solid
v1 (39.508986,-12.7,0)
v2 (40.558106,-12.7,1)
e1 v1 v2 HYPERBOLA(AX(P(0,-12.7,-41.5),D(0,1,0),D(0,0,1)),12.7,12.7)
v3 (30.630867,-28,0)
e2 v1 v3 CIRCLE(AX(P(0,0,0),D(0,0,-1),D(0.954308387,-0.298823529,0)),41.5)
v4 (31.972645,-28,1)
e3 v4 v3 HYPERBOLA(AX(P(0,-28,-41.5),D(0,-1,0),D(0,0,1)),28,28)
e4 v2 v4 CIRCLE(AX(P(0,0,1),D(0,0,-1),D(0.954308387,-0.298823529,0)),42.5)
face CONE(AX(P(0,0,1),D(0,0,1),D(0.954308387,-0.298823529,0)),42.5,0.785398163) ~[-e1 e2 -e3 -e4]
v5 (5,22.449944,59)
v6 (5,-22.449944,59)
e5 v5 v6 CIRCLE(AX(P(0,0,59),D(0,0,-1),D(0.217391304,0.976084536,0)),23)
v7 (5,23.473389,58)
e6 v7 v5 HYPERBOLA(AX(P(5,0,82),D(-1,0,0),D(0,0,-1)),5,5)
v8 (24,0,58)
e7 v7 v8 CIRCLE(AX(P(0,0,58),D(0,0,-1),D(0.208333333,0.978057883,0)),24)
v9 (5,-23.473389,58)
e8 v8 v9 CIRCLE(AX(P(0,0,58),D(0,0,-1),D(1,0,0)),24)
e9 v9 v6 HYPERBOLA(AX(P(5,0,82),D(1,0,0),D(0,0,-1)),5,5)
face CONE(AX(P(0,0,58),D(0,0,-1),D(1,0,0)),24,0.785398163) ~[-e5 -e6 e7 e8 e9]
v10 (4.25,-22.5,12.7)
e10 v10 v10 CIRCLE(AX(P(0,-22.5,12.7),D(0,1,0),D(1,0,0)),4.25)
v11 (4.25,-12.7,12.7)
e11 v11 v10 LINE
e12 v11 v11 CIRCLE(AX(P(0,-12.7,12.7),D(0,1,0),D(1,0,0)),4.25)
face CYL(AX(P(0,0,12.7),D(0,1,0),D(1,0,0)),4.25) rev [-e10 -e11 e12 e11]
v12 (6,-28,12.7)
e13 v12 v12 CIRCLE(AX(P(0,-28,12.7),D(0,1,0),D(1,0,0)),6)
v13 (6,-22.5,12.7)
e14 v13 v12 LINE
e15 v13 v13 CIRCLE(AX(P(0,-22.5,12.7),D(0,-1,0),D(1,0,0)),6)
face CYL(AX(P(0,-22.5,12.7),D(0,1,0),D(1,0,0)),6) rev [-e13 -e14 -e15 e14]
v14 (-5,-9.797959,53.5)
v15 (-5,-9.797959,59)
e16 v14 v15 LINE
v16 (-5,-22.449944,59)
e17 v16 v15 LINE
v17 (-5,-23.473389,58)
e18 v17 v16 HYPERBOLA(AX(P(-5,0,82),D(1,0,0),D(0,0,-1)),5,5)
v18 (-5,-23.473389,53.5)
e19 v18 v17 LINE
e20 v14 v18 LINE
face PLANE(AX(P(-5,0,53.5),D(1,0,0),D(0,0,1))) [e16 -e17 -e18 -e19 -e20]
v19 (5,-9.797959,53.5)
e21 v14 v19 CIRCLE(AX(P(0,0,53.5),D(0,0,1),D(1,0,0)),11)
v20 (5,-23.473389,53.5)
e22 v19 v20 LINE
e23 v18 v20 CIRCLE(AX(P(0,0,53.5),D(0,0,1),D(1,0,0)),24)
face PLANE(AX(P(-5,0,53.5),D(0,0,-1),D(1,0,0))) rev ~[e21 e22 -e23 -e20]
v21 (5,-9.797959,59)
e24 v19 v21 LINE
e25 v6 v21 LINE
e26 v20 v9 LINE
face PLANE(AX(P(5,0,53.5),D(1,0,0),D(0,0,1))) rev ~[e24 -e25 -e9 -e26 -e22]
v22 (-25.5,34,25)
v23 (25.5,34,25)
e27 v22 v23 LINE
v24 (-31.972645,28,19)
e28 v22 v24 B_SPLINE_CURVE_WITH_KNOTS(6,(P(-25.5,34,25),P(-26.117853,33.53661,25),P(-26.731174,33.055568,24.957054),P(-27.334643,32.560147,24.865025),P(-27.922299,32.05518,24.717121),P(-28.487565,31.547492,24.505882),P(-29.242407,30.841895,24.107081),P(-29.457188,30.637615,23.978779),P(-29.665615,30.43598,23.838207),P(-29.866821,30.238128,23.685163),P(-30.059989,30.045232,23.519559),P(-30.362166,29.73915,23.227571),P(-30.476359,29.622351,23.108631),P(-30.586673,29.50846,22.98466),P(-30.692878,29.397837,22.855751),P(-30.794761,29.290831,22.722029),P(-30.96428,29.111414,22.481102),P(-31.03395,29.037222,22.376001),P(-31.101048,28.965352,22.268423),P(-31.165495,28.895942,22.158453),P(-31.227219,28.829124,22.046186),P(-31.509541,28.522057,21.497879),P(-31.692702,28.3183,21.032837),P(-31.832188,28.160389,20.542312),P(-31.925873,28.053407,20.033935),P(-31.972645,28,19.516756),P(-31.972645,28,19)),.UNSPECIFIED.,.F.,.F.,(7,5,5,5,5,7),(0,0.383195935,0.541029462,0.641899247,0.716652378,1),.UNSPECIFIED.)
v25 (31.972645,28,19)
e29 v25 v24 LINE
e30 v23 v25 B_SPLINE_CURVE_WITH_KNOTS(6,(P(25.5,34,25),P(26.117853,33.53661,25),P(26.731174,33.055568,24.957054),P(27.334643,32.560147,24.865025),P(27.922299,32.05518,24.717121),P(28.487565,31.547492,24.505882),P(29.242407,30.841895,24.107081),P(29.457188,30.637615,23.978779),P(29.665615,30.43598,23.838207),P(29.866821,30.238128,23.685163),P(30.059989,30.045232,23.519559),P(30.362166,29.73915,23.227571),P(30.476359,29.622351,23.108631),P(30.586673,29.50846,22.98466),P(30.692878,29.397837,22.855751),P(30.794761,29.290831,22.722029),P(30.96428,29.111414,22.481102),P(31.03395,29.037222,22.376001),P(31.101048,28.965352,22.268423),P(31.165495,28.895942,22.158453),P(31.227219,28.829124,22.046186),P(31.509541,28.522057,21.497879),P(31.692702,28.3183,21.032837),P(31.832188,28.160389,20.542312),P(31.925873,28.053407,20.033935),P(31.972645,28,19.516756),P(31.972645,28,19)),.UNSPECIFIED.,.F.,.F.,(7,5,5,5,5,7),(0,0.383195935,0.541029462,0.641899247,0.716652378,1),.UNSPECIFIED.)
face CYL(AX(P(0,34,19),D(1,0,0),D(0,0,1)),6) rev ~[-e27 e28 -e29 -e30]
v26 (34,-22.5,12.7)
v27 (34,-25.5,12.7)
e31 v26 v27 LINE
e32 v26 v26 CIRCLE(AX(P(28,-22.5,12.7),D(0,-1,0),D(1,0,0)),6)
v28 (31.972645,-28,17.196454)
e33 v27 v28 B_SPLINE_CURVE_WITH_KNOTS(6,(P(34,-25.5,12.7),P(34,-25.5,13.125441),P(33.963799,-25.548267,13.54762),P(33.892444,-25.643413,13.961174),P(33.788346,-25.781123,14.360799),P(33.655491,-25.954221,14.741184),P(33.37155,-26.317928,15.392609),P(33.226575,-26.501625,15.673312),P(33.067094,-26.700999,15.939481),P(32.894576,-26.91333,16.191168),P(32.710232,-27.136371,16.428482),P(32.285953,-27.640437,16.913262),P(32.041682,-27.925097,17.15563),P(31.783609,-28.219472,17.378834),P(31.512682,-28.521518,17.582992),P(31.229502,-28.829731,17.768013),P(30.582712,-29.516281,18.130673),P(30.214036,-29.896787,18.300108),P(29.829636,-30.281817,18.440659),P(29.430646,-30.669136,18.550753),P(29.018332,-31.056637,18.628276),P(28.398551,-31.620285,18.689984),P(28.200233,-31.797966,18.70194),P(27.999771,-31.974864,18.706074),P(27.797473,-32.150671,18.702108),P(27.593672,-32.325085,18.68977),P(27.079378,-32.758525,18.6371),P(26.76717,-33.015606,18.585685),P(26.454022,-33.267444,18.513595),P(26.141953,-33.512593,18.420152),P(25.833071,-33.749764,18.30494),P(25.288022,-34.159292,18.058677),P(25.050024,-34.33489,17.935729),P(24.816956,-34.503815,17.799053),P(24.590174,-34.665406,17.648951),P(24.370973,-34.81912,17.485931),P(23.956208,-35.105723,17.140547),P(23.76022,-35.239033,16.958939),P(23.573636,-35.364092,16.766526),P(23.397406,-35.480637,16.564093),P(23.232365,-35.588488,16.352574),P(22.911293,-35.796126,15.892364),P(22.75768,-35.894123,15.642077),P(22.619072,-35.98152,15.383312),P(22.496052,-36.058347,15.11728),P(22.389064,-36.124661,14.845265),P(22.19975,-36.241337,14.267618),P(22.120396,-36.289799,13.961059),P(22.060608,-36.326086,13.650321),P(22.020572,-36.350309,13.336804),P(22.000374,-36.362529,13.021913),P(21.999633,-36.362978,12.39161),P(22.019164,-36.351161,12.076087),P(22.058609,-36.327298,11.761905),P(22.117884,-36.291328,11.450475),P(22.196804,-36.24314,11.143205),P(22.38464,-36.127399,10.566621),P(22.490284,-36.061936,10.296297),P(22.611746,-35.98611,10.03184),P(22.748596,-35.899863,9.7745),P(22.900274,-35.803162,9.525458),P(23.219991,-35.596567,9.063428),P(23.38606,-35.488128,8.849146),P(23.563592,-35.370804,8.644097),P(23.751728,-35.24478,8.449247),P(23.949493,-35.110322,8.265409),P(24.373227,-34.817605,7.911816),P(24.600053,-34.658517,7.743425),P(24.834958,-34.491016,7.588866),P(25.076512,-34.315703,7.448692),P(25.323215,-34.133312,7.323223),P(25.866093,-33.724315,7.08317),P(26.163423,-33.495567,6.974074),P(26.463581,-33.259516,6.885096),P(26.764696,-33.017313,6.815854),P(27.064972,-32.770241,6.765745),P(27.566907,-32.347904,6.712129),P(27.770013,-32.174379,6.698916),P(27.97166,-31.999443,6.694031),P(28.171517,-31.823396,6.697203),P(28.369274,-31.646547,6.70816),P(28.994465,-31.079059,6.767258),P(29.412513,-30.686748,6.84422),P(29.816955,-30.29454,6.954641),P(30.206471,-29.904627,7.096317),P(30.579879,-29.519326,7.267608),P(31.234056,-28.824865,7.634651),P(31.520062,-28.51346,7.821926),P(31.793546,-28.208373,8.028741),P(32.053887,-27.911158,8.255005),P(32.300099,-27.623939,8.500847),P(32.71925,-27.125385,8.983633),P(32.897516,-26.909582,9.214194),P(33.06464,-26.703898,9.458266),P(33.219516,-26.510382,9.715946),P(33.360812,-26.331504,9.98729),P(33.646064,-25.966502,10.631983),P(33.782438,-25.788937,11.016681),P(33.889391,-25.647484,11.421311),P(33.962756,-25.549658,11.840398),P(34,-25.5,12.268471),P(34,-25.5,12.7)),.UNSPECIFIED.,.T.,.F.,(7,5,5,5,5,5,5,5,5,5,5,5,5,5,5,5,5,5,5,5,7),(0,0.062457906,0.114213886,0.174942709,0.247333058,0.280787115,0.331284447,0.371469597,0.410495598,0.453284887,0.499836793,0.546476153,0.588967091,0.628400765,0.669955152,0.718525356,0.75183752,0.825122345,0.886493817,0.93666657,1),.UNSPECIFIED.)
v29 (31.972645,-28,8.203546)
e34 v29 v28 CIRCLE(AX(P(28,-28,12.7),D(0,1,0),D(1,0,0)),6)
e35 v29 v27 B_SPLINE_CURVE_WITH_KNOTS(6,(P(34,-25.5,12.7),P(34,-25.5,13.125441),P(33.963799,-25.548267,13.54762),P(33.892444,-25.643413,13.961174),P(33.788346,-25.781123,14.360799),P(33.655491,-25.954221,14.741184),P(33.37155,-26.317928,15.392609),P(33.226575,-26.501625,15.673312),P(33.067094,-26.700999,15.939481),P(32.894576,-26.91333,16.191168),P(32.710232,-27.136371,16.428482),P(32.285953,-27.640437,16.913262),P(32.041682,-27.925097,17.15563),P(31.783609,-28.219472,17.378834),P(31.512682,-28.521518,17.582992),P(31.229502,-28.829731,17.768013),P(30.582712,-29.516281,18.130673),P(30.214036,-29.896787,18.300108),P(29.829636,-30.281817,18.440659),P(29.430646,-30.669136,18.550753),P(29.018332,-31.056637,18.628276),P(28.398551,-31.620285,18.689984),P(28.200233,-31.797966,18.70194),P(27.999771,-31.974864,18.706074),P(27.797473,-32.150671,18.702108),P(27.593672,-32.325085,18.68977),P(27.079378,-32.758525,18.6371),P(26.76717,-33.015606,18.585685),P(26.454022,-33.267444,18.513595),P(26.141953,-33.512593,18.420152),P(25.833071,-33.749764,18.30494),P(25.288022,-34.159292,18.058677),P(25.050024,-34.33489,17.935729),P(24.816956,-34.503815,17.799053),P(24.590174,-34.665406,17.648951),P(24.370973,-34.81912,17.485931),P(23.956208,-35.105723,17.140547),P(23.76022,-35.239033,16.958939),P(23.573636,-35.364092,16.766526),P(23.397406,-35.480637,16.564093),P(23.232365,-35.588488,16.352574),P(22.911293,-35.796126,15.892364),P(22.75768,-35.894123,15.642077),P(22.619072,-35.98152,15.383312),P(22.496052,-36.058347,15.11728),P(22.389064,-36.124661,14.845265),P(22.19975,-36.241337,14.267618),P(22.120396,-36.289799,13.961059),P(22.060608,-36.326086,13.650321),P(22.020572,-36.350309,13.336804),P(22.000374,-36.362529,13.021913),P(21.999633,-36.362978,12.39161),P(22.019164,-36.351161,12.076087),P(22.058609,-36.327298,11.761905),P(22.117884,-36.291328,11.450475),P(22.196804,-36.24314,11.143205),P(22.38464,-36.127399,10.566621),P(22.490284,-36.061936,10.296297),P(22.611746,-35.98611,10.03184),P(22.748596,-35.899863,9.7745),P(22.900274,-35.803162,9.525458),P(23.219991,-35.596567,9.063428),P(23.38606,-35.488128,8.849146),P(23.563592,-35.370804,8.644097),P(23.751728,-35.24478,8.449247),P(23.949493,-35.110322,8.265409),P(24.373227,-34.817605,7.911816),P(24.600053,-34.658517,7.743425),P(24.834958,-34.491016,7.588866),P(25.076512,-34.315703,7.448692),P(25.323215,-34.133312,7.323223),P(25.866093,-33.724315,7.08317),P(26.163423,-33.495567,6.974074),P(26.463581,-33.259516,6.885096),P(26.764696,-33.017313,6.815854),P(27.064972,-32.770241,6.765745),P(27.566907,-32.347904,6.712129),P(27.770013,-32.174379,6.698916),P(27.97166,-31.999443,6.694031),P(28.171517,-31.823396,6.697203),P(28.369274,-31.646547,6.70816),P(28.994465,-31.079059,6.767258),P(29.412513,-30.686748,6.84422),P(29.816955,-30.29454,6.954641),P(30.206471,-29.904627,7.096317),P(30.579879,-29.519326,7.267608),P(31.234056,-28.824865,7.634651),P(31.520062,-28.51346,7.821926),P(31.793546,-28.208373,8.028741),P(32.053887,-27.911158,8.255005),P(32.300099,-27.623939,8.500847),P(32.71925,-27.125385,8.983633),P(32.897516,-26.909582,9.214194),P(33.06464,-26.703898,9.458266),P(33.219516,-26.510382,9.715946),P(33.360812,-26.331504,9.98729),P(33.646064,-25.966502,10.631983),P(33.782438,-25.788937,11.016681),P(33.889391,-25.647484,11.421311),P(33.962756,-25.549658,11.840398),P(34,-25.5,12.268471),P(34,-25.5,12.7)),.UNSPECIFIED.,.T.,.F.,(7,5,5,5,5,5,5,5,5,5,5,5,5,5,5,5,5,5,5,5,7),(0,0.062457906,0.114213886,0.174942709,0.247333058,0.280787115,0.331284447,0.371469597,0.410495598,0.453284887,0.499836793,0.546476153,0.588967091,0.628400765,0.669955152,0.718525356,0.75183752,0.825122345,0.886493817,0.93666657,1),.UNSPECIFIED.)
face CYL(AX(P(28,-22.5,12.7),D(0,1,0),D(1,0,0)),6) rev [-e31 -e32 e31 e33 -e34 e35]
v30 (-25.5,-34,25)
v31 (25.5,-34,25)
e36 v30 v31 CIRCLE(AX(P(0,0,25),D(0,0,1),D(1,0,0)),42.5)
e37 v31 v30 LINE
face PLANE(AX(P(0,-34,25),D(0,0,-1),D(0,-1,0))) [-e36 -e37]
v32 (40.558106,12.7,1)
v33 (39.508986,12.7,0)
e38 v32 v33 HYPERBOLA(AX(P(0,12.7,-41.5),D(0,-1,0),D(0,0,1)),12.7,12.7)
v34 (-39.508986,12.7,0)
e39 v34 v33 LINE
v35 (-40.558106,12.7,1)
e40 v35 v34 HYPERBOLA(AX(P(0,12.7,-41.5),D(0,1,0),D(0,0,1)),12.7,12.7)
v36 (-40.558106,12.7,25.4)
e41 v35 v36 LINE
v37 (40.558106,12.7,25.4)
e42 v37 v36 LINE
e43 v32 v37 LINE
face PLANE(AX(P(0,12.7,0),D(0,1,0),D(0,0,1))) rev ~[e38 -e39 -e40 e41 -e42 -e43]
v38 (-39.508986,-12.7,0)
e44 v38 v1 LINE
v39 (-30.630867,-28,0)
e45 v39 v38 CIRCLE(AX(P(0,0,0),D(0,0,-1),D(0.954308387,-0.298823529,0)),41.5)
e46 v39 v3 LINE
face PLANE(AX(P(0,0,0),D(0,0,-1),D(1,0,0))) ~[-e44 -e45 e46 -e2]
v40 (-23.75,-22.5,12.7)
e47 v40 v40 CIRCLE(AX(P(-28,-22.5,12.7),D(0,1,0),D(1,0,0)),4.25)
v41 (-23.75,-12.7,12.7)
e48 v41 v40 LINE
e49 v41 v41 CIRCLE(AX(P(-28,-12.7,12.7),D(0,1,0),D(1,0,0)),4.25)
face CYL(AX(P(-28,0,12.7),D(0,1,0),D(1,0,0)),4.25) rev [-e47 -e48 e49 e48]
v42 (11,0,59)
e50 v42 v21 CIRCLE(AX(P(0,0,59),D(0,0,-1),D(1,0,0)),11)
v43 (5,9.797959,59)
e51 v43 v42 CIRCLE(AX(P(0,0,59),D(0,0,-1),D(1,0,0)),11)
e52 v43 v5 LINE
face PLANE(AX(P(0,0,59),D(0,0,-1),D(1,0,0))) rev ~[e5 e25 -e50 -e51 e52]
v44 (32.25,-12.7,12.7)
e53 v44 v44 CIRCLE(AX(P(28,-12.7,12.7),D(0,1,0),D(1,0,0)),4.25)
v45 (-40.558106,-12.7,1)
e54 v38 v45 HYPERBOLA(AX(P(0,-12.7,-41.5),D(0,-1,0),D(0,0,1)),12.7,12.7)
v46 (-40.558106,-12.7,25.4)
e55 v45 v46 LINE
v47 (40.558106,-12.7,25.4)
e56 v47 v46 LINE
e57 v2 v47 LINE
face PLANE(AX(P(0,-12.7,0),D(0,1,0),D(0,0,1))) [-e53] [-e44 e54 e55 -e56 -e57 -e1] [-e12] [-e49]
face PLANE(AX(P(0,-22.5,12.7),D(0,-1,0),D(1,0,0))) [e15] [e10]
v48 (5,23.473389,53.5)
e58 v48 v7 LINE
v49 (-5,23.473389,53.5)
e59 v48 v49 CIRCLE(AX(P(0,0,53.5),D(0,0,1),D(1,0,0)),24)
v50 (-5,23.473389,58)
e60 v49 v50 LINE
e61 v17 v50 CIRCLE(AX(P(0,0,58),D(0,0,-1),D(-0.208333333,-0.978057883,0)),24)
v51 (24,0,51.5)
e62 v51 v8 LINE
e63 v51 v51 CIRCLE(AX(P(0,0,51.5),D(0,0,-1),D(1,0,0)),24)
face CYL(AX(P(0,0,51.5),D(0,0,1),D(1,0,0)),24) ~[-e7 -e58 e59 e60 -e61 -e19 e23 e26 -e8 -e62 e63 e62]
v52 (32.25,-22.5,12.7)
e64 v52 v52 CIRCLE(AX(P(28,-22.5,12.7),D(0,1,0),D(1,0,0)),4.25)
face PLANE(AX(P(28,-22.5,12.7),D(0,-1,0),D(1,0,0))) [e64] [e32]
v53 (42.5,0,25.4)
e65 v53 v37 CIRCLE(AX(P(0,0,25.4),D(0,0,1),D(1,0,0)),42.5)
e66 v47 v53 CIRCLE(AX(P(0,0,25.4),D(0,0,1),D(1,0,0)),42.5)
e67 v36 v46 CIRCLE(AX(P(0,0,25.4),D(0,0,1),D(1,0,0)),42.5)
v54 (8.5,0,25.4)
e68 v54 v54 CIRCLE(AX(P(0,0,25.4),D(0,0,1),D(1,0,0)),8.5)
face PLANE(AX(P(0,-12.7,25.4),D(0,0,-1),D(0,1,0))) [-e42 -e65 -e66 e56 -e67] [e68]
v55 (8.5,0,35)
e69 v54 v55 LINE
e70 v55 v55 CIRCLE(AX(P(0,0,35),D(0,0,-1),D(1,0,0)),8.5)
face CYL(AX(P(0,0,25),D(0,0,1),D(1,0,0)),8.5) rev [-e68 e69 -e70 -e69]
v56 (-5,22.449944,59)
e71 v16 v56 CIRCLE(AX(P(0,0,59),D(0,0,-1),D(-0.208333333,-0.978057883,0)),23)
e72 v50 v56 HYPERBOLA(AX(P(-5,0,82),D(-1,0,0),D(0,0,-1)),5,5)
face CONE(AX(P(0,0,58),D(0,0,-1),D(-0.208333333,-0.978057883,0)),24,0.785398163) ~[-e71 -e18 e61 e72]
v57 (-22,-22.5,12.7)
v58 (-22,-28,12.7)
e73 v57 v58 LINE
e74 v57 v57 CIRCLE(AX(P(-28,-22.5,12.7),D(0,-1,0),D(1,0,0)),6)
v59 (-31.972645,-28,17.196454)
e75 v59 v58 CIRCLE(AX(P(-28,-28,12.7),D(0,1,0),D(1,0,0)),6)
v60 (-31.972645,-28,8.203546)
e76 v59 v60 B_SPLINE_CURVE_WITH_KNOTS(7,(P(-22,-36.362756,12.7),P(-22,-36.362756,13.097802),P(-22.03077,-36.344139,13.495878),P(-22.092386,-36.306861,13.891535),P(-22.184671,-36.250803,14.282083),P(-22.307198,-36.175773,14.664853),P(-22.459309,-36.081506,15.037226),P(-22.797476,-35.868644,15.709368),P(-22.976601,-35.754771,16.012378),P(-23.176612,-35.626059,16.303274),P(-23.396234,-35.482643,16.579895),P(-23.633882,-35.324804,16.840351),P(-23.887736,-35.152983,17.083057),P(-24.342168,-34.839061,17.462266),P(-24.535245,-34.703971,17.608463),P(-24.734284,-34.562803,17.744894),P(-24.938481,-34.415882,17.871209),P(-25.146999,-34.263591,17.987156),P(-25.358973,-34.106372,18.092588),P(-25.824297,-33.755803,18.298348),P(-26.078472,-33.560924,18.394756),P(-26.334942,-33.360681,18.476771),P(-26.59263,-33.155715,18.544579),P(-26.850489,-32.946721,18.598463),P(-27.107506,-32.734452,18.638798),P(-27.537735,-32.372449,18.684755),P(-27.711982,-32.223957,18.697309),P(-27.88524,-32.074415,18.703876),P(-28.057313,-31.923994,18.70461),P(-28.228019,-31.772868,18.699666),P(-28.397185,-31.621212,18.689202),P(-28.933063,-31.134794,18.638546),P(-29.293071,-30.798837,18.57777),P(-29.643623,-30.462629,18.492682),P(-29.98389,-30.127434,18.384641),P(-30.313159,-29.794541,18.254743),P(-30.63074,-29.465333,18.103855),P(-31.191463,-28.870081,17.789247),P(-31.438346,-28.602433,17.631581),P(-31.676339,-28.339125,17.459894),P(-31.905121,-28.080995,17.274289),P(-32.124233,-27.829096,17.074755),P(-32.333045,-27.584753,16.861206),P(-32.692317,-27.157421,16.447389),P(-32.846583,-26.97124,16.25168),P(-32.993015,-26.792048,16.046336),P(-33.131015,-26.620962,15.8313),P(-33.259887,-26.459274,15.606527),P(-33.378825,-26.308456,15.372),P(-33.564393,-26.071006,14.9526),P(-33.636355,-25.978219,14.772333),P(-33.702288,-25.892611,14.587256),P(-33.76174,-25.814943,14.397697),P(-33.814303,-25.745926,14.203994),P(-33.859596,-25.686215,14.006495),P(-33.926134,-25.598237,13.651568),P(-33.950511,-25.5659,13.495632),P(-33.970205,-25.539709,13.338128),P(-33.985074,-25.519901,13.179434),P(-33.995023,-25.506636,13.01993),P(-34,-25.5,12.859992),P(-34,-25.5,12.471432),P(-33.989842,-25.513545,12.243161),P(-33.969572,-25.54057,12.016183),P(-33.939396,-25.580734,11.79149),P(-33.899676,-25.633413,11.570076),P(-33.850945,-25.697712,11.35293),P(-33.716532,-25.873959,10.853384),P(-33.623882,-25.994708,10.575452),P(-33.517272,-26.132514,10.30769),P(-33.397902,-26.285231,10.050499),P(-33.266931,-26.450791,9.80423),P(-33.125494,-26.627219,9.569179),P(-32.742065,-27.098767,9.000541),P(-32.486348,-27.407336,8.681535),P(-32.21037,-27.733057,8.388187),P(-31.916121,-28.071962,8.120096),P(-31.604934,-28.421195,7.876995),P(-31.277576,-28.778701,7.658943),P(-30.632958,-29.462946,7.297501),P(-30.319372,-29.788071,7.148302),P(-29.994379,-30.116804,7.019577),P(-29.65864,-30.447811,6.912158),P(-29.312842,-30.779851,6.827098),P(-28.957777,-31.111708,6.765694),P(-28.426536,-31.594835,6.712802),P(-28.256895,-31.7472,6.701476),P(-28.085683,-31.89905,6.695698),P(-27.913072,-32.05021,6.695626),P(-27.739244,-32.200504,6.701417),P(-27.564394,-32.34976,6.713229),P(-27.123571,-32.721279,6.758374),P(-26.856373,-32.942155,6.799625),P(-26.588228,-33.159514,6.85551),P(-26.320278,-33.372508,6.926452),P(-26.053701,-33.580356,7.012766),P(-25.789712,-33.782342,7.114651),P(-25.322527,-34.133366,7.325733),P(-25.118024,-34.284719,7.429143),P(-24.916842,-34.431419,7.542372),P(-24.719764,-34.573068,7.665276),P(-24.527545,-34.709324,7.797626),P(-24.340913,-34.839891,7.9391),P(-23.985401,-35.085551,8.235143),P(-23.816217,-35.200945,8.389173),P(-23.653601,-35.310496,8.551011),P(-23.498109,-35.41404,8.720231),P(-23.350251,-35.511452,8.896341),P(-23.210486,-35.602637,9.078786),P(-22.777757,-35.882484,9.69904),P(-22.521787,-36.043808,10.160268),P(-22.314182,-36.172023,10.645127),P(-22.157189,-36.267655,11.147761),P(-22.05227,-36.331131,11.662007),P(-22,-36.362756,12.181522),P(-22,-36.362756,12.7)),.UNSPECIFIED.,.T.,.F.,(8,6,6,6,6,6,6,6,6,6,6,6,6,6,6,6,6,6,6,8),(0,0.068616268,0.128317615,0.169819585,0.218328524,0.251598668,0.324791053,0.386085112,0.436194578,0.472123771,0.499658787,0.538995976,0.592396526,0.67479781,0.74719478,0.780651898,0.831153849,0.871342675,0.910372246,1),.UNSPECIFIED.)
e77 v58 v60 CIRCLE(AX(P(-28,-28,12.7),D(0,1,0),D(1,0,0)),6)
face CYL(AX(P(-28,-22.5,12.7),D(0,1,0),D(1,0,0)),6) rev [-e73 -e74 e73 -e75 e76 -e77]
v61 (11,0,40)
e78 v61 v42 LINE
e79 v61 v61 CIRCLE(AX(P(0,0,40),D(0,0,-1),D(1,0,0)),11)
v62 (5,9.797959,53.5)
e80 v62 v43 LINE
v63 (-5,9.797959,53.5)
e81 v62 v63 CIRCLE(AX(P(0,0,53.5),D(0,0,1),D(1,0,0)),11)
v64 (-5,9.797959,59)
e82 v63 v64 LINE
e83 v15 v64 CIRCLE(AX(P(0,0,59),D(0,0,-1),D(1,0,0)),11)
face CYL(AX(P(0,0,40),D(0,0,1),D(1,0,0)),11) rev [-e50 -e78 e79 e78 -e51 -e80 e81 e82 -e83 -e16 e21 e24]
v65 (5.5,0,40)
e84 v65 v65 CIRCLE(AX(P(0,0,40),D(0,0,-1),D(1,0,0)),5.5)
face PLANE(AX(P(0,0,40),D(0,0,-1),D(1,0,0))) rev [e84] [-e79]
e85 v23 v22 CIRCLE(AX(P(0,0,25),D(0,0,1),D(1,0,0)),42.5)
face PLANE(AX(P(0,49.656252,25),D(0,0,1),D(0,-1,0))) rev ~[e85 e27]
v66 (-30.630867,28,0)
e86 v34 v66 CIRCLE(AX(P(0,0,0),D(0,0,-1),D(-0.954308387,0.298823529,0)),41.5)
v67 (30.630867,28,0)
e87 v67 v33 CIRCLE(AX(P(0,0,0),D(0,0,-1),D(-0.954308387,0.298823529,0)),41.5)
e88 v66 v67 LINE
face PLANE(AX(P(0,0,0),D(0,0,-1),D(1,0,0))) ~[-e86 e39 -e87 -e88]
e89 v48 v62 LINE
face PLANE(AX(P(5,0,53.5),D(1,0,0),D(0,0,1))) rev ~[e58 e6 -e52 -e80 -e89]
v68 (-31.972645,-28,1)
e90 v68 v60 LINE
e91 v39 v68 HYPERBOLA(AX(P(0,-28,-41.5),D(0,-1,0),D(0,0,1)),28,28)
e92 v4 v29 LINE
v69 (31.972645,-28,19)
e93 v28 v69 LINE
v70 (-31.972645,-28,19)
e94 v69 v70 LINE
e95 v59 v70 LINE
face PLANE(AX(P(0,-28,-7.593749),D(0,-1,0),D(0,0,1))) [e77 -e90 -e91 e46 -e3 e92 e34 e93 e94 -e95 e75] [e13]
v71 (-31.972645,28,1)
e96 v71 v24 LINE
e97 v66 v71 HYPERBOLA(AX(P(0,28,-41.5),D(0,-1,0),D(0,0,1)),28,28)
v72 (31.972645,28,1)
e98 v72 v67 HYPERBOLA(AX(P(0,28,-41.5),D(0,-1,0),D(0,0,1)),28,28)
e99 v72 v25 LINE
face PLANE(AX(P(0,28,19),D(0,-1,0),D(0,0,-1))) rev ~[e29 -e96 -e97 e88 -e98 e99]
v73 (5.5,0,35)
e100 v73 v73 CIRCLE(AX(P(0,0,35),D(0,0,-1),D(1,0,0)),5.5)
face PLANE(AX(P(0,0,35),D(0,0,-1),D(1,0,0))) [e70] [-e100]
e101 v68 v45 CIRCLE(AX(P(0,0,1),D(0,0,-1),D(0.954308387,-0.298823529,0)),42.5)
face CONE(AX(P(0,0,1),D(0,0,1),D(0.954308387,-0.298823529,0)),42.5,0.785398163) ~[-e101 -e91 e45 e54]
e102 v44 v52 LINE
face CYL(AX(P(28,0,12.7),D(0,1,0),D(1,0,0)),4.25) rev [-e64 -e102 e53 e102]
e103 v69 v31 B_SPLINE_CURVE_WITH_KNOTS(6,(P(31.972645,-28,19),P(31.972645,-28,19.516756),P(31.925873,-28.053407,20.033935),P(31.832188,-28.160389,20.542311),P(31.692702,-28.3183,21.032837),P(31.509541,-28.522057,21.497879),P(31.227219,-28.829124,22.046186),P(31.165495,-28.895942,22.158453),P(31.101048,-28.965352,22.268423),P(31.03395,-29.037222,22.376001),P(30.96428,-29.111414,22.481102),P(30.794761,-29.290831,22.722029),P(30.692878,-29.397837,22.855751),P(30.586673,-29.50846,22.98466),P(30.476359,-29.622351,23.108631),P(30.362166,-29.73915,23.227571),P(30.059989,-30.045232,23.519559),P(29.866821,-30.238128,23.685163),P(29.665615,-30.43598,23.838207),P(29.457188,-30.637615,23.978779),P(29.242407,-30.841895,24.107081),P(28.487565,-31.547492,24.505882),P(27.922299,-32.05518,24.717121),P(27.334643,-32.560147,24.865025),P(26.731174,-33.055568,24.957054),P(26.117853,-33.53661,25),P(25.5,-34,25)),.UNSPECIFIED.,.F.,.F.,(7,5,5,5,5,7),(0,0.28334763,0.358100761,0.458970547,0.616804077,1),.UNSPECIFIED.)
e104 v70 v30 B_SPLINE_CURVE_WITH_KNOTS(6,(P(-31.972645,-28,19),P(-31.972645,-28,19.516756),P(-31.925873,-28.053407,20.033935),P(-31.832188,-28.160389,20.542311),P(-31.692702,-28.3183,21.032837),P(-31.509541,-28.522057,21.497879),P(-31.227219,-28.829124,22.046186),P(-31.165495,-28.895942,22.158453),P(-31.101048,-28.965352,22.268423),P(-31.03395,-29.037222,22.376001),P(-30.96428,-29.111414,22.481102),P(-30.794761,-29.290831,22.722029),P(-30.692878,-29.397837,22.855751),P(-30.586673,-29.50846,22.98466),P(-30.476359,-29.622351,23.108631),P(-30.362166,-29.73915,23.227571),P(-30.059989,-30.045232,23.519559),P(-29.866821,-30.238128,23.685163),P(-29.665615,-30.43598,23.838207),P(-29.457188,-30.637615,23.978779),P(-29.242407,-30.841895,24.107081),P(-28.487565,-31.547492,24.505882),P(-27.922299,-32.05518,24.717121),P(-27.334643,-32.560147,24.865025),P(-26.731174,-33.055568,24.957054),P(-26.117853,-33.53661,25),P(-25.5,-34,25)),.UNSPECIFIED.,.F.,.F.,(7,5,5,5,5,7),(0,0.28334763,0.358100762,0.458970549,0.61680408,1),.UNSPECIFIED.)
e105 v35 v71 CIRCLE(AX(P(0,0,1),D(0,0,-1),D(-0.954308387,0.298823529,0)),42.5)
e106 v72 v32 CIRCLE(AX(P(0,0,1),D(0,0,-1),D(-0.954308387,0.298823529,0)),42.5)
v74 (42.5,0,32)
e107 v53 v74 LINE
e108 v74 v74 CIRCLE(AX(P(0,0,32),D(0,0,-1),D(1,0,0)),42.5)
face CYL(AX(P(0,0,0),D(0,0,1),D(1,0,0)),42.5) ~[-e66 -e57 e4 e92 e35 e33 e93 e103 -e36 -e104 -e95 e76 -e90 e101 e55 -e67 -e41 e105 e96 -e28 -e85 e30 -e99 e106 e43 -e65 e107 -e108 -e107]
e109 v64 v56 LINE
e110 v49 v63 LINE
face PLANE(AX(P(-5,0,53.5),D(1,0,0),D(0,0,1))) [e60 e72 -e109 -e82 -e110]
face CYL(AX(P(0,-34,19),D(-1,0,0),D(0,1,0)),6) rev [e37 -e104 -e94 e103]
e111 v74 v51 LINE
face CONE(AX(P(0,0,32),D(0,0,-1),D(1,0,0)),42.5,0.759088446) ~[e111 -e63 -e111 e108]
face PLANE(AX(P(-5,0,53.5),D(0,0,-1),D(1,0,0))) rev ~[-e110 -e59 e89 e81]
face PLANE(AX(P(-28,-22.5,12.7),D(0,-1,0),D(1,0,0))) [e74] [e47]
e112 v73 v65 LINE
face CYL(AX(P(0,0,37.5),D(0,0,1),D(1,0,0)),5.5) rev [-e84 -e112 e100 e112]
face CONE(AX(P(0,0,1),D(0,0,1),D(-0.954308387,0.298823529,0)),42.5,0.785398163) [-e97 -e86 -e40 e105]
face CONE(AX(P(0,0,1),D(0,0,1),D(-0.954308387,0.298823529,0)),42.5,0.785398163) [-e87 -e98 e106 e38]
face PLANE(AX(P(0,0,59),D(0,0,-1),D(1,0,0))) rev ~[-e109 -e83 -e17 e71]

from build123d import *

# Parameters (mm, degrees)
F2_W      = 5.5
F2_H      = 5
F4_W      = 25.4
F4_H      = 25.4
F5_DEPTH  = 50
F6_W      = 10
F6_H      = 5.5
F7_DEPTH  = 25
F8_R      = 4.25
F9_DEPTH  = 50
F10_SIZE  = 1
F12_R     = 6
F13_DEPTH = 25
F15_DEPTH = 40


with BuildPart() as f1:
    # F0 (on Front) → F1 (revolve)
    with BuildSketch(Plane.XZ):
        Polygon((0, 59), (0, 0), (42.5, 0), (42.5, 32), (24, 51.5), (24, 59), align=None)
    revolve(axis=Axis((0, 0, 29.5), (0, 0, -1)))

    # F2 (on Front) → F3 (revolve, cut)
    with BuildSketch(Plane.XZ):
        Polygon((5.5, 35), (0, 35), (0, 25), (8.5, 25), (8.5, 35), align=None)
        with Locations((2.75, 37.5)):
            Rectangle(F2_W, F2_H)
        Polygon((11, 59), (0, 59), (0, 40), (5.5, 40), (11, 40), align=None)
    revolve(axis=Axis((0, 0, 30), (0, 0, -1)), mode=Mode.SUBTRACT)

    # F4 (on Right) → F5 (cut, symmetric)
    with BuildSketch(Plane.YZ):
        with Locations((0, 12.7)):
            Rectangle(F4_W, F4_H)
    extrude(amount=F5_DEPTH, both=True, mode=Mode.SUBTRACT)

    # F6 (on Front) → F7 (cut, symmetric)
    with BuildSketch(Plane.XZ):
        with Locations((0, 56.25)):
            Rectangle(F6_W, F6_H)
    extrude(amount=F7_DEPTH, both=True, mode=Mode.SUBTRACT)

    # F8 (on Front) → F9 (cut)
    with BuildSketch(Plane.XZ):
        with Locations((0, 12.7)):
            Circle(F8_R)
        with Locations((28, 12.7)):
            Circle(F8_R)
        with Locations((-28, 12.7)):
            Circle(F8_R)
    extrude(amount=F9_DEPTH, mode=Mode.SUBTRACT)

    # F10
    f10_edges = [f1.edges().sort_by_distance(p)[0] for p in [
        (0, -42.5, 0),
        (0, 42.5, 0),
        (-24, 0, 59),
        (18.654758, -15.099669, 59),
        (18.654758, 15.099669, 59),
    ]]
    chamfer(f10_edges, length=F10_SIZE)

    # F12 (on offset) → F13 (cut)
    with BuildSketch(Plane.XZ.offset(22.5)):
        with Locations((0, 12.7)):
            Circle(F12_R)
        with Locations((-28, 12.7)):
            Circle(F12_R)
        with Locations((28, 12.7)):
            Circle(F12_R)
    extrude(amount=F13_DEPTH, mode=Mode.SUBTRACT)

    # F14 (on Right) → F15 (cut, symmetric)
    with BuildSketch(Plane.YZ):
        with BuildLine():
            Line((-34, 25), (-49.6562516332, 25))
            Line((-49.6562516332, 25), (-49.6562516332, -7.5937491908))
            Line((-49.6562516332, -7.5937491908), (-28, -7.5937491908))
            Line((-28, -7.5937491908), (-28, 19))
            ThreePointArc((-28, 19), (-29.7573593129, 23.2426406871), (-34, 25))
        make_face()
        with BuildLine():
            Line((49.6562516332, -7.5937491908), (49.6562516332, 25))
            Line((49.6562516332, 25), (34, 25))
            ThreePointArc((34, 25), (29.7573593129, 23.2426406871), (28, 19))
            Line((28, 19), (28, -7.5937491908))
            Line((28, -7.5937491908), (49.6562516332, -7.5937491908))
        make_face()
    extrude(amount=F15_DEPTH, both=True, mode=Mode.SUBTRACT)


solid = f1.part
